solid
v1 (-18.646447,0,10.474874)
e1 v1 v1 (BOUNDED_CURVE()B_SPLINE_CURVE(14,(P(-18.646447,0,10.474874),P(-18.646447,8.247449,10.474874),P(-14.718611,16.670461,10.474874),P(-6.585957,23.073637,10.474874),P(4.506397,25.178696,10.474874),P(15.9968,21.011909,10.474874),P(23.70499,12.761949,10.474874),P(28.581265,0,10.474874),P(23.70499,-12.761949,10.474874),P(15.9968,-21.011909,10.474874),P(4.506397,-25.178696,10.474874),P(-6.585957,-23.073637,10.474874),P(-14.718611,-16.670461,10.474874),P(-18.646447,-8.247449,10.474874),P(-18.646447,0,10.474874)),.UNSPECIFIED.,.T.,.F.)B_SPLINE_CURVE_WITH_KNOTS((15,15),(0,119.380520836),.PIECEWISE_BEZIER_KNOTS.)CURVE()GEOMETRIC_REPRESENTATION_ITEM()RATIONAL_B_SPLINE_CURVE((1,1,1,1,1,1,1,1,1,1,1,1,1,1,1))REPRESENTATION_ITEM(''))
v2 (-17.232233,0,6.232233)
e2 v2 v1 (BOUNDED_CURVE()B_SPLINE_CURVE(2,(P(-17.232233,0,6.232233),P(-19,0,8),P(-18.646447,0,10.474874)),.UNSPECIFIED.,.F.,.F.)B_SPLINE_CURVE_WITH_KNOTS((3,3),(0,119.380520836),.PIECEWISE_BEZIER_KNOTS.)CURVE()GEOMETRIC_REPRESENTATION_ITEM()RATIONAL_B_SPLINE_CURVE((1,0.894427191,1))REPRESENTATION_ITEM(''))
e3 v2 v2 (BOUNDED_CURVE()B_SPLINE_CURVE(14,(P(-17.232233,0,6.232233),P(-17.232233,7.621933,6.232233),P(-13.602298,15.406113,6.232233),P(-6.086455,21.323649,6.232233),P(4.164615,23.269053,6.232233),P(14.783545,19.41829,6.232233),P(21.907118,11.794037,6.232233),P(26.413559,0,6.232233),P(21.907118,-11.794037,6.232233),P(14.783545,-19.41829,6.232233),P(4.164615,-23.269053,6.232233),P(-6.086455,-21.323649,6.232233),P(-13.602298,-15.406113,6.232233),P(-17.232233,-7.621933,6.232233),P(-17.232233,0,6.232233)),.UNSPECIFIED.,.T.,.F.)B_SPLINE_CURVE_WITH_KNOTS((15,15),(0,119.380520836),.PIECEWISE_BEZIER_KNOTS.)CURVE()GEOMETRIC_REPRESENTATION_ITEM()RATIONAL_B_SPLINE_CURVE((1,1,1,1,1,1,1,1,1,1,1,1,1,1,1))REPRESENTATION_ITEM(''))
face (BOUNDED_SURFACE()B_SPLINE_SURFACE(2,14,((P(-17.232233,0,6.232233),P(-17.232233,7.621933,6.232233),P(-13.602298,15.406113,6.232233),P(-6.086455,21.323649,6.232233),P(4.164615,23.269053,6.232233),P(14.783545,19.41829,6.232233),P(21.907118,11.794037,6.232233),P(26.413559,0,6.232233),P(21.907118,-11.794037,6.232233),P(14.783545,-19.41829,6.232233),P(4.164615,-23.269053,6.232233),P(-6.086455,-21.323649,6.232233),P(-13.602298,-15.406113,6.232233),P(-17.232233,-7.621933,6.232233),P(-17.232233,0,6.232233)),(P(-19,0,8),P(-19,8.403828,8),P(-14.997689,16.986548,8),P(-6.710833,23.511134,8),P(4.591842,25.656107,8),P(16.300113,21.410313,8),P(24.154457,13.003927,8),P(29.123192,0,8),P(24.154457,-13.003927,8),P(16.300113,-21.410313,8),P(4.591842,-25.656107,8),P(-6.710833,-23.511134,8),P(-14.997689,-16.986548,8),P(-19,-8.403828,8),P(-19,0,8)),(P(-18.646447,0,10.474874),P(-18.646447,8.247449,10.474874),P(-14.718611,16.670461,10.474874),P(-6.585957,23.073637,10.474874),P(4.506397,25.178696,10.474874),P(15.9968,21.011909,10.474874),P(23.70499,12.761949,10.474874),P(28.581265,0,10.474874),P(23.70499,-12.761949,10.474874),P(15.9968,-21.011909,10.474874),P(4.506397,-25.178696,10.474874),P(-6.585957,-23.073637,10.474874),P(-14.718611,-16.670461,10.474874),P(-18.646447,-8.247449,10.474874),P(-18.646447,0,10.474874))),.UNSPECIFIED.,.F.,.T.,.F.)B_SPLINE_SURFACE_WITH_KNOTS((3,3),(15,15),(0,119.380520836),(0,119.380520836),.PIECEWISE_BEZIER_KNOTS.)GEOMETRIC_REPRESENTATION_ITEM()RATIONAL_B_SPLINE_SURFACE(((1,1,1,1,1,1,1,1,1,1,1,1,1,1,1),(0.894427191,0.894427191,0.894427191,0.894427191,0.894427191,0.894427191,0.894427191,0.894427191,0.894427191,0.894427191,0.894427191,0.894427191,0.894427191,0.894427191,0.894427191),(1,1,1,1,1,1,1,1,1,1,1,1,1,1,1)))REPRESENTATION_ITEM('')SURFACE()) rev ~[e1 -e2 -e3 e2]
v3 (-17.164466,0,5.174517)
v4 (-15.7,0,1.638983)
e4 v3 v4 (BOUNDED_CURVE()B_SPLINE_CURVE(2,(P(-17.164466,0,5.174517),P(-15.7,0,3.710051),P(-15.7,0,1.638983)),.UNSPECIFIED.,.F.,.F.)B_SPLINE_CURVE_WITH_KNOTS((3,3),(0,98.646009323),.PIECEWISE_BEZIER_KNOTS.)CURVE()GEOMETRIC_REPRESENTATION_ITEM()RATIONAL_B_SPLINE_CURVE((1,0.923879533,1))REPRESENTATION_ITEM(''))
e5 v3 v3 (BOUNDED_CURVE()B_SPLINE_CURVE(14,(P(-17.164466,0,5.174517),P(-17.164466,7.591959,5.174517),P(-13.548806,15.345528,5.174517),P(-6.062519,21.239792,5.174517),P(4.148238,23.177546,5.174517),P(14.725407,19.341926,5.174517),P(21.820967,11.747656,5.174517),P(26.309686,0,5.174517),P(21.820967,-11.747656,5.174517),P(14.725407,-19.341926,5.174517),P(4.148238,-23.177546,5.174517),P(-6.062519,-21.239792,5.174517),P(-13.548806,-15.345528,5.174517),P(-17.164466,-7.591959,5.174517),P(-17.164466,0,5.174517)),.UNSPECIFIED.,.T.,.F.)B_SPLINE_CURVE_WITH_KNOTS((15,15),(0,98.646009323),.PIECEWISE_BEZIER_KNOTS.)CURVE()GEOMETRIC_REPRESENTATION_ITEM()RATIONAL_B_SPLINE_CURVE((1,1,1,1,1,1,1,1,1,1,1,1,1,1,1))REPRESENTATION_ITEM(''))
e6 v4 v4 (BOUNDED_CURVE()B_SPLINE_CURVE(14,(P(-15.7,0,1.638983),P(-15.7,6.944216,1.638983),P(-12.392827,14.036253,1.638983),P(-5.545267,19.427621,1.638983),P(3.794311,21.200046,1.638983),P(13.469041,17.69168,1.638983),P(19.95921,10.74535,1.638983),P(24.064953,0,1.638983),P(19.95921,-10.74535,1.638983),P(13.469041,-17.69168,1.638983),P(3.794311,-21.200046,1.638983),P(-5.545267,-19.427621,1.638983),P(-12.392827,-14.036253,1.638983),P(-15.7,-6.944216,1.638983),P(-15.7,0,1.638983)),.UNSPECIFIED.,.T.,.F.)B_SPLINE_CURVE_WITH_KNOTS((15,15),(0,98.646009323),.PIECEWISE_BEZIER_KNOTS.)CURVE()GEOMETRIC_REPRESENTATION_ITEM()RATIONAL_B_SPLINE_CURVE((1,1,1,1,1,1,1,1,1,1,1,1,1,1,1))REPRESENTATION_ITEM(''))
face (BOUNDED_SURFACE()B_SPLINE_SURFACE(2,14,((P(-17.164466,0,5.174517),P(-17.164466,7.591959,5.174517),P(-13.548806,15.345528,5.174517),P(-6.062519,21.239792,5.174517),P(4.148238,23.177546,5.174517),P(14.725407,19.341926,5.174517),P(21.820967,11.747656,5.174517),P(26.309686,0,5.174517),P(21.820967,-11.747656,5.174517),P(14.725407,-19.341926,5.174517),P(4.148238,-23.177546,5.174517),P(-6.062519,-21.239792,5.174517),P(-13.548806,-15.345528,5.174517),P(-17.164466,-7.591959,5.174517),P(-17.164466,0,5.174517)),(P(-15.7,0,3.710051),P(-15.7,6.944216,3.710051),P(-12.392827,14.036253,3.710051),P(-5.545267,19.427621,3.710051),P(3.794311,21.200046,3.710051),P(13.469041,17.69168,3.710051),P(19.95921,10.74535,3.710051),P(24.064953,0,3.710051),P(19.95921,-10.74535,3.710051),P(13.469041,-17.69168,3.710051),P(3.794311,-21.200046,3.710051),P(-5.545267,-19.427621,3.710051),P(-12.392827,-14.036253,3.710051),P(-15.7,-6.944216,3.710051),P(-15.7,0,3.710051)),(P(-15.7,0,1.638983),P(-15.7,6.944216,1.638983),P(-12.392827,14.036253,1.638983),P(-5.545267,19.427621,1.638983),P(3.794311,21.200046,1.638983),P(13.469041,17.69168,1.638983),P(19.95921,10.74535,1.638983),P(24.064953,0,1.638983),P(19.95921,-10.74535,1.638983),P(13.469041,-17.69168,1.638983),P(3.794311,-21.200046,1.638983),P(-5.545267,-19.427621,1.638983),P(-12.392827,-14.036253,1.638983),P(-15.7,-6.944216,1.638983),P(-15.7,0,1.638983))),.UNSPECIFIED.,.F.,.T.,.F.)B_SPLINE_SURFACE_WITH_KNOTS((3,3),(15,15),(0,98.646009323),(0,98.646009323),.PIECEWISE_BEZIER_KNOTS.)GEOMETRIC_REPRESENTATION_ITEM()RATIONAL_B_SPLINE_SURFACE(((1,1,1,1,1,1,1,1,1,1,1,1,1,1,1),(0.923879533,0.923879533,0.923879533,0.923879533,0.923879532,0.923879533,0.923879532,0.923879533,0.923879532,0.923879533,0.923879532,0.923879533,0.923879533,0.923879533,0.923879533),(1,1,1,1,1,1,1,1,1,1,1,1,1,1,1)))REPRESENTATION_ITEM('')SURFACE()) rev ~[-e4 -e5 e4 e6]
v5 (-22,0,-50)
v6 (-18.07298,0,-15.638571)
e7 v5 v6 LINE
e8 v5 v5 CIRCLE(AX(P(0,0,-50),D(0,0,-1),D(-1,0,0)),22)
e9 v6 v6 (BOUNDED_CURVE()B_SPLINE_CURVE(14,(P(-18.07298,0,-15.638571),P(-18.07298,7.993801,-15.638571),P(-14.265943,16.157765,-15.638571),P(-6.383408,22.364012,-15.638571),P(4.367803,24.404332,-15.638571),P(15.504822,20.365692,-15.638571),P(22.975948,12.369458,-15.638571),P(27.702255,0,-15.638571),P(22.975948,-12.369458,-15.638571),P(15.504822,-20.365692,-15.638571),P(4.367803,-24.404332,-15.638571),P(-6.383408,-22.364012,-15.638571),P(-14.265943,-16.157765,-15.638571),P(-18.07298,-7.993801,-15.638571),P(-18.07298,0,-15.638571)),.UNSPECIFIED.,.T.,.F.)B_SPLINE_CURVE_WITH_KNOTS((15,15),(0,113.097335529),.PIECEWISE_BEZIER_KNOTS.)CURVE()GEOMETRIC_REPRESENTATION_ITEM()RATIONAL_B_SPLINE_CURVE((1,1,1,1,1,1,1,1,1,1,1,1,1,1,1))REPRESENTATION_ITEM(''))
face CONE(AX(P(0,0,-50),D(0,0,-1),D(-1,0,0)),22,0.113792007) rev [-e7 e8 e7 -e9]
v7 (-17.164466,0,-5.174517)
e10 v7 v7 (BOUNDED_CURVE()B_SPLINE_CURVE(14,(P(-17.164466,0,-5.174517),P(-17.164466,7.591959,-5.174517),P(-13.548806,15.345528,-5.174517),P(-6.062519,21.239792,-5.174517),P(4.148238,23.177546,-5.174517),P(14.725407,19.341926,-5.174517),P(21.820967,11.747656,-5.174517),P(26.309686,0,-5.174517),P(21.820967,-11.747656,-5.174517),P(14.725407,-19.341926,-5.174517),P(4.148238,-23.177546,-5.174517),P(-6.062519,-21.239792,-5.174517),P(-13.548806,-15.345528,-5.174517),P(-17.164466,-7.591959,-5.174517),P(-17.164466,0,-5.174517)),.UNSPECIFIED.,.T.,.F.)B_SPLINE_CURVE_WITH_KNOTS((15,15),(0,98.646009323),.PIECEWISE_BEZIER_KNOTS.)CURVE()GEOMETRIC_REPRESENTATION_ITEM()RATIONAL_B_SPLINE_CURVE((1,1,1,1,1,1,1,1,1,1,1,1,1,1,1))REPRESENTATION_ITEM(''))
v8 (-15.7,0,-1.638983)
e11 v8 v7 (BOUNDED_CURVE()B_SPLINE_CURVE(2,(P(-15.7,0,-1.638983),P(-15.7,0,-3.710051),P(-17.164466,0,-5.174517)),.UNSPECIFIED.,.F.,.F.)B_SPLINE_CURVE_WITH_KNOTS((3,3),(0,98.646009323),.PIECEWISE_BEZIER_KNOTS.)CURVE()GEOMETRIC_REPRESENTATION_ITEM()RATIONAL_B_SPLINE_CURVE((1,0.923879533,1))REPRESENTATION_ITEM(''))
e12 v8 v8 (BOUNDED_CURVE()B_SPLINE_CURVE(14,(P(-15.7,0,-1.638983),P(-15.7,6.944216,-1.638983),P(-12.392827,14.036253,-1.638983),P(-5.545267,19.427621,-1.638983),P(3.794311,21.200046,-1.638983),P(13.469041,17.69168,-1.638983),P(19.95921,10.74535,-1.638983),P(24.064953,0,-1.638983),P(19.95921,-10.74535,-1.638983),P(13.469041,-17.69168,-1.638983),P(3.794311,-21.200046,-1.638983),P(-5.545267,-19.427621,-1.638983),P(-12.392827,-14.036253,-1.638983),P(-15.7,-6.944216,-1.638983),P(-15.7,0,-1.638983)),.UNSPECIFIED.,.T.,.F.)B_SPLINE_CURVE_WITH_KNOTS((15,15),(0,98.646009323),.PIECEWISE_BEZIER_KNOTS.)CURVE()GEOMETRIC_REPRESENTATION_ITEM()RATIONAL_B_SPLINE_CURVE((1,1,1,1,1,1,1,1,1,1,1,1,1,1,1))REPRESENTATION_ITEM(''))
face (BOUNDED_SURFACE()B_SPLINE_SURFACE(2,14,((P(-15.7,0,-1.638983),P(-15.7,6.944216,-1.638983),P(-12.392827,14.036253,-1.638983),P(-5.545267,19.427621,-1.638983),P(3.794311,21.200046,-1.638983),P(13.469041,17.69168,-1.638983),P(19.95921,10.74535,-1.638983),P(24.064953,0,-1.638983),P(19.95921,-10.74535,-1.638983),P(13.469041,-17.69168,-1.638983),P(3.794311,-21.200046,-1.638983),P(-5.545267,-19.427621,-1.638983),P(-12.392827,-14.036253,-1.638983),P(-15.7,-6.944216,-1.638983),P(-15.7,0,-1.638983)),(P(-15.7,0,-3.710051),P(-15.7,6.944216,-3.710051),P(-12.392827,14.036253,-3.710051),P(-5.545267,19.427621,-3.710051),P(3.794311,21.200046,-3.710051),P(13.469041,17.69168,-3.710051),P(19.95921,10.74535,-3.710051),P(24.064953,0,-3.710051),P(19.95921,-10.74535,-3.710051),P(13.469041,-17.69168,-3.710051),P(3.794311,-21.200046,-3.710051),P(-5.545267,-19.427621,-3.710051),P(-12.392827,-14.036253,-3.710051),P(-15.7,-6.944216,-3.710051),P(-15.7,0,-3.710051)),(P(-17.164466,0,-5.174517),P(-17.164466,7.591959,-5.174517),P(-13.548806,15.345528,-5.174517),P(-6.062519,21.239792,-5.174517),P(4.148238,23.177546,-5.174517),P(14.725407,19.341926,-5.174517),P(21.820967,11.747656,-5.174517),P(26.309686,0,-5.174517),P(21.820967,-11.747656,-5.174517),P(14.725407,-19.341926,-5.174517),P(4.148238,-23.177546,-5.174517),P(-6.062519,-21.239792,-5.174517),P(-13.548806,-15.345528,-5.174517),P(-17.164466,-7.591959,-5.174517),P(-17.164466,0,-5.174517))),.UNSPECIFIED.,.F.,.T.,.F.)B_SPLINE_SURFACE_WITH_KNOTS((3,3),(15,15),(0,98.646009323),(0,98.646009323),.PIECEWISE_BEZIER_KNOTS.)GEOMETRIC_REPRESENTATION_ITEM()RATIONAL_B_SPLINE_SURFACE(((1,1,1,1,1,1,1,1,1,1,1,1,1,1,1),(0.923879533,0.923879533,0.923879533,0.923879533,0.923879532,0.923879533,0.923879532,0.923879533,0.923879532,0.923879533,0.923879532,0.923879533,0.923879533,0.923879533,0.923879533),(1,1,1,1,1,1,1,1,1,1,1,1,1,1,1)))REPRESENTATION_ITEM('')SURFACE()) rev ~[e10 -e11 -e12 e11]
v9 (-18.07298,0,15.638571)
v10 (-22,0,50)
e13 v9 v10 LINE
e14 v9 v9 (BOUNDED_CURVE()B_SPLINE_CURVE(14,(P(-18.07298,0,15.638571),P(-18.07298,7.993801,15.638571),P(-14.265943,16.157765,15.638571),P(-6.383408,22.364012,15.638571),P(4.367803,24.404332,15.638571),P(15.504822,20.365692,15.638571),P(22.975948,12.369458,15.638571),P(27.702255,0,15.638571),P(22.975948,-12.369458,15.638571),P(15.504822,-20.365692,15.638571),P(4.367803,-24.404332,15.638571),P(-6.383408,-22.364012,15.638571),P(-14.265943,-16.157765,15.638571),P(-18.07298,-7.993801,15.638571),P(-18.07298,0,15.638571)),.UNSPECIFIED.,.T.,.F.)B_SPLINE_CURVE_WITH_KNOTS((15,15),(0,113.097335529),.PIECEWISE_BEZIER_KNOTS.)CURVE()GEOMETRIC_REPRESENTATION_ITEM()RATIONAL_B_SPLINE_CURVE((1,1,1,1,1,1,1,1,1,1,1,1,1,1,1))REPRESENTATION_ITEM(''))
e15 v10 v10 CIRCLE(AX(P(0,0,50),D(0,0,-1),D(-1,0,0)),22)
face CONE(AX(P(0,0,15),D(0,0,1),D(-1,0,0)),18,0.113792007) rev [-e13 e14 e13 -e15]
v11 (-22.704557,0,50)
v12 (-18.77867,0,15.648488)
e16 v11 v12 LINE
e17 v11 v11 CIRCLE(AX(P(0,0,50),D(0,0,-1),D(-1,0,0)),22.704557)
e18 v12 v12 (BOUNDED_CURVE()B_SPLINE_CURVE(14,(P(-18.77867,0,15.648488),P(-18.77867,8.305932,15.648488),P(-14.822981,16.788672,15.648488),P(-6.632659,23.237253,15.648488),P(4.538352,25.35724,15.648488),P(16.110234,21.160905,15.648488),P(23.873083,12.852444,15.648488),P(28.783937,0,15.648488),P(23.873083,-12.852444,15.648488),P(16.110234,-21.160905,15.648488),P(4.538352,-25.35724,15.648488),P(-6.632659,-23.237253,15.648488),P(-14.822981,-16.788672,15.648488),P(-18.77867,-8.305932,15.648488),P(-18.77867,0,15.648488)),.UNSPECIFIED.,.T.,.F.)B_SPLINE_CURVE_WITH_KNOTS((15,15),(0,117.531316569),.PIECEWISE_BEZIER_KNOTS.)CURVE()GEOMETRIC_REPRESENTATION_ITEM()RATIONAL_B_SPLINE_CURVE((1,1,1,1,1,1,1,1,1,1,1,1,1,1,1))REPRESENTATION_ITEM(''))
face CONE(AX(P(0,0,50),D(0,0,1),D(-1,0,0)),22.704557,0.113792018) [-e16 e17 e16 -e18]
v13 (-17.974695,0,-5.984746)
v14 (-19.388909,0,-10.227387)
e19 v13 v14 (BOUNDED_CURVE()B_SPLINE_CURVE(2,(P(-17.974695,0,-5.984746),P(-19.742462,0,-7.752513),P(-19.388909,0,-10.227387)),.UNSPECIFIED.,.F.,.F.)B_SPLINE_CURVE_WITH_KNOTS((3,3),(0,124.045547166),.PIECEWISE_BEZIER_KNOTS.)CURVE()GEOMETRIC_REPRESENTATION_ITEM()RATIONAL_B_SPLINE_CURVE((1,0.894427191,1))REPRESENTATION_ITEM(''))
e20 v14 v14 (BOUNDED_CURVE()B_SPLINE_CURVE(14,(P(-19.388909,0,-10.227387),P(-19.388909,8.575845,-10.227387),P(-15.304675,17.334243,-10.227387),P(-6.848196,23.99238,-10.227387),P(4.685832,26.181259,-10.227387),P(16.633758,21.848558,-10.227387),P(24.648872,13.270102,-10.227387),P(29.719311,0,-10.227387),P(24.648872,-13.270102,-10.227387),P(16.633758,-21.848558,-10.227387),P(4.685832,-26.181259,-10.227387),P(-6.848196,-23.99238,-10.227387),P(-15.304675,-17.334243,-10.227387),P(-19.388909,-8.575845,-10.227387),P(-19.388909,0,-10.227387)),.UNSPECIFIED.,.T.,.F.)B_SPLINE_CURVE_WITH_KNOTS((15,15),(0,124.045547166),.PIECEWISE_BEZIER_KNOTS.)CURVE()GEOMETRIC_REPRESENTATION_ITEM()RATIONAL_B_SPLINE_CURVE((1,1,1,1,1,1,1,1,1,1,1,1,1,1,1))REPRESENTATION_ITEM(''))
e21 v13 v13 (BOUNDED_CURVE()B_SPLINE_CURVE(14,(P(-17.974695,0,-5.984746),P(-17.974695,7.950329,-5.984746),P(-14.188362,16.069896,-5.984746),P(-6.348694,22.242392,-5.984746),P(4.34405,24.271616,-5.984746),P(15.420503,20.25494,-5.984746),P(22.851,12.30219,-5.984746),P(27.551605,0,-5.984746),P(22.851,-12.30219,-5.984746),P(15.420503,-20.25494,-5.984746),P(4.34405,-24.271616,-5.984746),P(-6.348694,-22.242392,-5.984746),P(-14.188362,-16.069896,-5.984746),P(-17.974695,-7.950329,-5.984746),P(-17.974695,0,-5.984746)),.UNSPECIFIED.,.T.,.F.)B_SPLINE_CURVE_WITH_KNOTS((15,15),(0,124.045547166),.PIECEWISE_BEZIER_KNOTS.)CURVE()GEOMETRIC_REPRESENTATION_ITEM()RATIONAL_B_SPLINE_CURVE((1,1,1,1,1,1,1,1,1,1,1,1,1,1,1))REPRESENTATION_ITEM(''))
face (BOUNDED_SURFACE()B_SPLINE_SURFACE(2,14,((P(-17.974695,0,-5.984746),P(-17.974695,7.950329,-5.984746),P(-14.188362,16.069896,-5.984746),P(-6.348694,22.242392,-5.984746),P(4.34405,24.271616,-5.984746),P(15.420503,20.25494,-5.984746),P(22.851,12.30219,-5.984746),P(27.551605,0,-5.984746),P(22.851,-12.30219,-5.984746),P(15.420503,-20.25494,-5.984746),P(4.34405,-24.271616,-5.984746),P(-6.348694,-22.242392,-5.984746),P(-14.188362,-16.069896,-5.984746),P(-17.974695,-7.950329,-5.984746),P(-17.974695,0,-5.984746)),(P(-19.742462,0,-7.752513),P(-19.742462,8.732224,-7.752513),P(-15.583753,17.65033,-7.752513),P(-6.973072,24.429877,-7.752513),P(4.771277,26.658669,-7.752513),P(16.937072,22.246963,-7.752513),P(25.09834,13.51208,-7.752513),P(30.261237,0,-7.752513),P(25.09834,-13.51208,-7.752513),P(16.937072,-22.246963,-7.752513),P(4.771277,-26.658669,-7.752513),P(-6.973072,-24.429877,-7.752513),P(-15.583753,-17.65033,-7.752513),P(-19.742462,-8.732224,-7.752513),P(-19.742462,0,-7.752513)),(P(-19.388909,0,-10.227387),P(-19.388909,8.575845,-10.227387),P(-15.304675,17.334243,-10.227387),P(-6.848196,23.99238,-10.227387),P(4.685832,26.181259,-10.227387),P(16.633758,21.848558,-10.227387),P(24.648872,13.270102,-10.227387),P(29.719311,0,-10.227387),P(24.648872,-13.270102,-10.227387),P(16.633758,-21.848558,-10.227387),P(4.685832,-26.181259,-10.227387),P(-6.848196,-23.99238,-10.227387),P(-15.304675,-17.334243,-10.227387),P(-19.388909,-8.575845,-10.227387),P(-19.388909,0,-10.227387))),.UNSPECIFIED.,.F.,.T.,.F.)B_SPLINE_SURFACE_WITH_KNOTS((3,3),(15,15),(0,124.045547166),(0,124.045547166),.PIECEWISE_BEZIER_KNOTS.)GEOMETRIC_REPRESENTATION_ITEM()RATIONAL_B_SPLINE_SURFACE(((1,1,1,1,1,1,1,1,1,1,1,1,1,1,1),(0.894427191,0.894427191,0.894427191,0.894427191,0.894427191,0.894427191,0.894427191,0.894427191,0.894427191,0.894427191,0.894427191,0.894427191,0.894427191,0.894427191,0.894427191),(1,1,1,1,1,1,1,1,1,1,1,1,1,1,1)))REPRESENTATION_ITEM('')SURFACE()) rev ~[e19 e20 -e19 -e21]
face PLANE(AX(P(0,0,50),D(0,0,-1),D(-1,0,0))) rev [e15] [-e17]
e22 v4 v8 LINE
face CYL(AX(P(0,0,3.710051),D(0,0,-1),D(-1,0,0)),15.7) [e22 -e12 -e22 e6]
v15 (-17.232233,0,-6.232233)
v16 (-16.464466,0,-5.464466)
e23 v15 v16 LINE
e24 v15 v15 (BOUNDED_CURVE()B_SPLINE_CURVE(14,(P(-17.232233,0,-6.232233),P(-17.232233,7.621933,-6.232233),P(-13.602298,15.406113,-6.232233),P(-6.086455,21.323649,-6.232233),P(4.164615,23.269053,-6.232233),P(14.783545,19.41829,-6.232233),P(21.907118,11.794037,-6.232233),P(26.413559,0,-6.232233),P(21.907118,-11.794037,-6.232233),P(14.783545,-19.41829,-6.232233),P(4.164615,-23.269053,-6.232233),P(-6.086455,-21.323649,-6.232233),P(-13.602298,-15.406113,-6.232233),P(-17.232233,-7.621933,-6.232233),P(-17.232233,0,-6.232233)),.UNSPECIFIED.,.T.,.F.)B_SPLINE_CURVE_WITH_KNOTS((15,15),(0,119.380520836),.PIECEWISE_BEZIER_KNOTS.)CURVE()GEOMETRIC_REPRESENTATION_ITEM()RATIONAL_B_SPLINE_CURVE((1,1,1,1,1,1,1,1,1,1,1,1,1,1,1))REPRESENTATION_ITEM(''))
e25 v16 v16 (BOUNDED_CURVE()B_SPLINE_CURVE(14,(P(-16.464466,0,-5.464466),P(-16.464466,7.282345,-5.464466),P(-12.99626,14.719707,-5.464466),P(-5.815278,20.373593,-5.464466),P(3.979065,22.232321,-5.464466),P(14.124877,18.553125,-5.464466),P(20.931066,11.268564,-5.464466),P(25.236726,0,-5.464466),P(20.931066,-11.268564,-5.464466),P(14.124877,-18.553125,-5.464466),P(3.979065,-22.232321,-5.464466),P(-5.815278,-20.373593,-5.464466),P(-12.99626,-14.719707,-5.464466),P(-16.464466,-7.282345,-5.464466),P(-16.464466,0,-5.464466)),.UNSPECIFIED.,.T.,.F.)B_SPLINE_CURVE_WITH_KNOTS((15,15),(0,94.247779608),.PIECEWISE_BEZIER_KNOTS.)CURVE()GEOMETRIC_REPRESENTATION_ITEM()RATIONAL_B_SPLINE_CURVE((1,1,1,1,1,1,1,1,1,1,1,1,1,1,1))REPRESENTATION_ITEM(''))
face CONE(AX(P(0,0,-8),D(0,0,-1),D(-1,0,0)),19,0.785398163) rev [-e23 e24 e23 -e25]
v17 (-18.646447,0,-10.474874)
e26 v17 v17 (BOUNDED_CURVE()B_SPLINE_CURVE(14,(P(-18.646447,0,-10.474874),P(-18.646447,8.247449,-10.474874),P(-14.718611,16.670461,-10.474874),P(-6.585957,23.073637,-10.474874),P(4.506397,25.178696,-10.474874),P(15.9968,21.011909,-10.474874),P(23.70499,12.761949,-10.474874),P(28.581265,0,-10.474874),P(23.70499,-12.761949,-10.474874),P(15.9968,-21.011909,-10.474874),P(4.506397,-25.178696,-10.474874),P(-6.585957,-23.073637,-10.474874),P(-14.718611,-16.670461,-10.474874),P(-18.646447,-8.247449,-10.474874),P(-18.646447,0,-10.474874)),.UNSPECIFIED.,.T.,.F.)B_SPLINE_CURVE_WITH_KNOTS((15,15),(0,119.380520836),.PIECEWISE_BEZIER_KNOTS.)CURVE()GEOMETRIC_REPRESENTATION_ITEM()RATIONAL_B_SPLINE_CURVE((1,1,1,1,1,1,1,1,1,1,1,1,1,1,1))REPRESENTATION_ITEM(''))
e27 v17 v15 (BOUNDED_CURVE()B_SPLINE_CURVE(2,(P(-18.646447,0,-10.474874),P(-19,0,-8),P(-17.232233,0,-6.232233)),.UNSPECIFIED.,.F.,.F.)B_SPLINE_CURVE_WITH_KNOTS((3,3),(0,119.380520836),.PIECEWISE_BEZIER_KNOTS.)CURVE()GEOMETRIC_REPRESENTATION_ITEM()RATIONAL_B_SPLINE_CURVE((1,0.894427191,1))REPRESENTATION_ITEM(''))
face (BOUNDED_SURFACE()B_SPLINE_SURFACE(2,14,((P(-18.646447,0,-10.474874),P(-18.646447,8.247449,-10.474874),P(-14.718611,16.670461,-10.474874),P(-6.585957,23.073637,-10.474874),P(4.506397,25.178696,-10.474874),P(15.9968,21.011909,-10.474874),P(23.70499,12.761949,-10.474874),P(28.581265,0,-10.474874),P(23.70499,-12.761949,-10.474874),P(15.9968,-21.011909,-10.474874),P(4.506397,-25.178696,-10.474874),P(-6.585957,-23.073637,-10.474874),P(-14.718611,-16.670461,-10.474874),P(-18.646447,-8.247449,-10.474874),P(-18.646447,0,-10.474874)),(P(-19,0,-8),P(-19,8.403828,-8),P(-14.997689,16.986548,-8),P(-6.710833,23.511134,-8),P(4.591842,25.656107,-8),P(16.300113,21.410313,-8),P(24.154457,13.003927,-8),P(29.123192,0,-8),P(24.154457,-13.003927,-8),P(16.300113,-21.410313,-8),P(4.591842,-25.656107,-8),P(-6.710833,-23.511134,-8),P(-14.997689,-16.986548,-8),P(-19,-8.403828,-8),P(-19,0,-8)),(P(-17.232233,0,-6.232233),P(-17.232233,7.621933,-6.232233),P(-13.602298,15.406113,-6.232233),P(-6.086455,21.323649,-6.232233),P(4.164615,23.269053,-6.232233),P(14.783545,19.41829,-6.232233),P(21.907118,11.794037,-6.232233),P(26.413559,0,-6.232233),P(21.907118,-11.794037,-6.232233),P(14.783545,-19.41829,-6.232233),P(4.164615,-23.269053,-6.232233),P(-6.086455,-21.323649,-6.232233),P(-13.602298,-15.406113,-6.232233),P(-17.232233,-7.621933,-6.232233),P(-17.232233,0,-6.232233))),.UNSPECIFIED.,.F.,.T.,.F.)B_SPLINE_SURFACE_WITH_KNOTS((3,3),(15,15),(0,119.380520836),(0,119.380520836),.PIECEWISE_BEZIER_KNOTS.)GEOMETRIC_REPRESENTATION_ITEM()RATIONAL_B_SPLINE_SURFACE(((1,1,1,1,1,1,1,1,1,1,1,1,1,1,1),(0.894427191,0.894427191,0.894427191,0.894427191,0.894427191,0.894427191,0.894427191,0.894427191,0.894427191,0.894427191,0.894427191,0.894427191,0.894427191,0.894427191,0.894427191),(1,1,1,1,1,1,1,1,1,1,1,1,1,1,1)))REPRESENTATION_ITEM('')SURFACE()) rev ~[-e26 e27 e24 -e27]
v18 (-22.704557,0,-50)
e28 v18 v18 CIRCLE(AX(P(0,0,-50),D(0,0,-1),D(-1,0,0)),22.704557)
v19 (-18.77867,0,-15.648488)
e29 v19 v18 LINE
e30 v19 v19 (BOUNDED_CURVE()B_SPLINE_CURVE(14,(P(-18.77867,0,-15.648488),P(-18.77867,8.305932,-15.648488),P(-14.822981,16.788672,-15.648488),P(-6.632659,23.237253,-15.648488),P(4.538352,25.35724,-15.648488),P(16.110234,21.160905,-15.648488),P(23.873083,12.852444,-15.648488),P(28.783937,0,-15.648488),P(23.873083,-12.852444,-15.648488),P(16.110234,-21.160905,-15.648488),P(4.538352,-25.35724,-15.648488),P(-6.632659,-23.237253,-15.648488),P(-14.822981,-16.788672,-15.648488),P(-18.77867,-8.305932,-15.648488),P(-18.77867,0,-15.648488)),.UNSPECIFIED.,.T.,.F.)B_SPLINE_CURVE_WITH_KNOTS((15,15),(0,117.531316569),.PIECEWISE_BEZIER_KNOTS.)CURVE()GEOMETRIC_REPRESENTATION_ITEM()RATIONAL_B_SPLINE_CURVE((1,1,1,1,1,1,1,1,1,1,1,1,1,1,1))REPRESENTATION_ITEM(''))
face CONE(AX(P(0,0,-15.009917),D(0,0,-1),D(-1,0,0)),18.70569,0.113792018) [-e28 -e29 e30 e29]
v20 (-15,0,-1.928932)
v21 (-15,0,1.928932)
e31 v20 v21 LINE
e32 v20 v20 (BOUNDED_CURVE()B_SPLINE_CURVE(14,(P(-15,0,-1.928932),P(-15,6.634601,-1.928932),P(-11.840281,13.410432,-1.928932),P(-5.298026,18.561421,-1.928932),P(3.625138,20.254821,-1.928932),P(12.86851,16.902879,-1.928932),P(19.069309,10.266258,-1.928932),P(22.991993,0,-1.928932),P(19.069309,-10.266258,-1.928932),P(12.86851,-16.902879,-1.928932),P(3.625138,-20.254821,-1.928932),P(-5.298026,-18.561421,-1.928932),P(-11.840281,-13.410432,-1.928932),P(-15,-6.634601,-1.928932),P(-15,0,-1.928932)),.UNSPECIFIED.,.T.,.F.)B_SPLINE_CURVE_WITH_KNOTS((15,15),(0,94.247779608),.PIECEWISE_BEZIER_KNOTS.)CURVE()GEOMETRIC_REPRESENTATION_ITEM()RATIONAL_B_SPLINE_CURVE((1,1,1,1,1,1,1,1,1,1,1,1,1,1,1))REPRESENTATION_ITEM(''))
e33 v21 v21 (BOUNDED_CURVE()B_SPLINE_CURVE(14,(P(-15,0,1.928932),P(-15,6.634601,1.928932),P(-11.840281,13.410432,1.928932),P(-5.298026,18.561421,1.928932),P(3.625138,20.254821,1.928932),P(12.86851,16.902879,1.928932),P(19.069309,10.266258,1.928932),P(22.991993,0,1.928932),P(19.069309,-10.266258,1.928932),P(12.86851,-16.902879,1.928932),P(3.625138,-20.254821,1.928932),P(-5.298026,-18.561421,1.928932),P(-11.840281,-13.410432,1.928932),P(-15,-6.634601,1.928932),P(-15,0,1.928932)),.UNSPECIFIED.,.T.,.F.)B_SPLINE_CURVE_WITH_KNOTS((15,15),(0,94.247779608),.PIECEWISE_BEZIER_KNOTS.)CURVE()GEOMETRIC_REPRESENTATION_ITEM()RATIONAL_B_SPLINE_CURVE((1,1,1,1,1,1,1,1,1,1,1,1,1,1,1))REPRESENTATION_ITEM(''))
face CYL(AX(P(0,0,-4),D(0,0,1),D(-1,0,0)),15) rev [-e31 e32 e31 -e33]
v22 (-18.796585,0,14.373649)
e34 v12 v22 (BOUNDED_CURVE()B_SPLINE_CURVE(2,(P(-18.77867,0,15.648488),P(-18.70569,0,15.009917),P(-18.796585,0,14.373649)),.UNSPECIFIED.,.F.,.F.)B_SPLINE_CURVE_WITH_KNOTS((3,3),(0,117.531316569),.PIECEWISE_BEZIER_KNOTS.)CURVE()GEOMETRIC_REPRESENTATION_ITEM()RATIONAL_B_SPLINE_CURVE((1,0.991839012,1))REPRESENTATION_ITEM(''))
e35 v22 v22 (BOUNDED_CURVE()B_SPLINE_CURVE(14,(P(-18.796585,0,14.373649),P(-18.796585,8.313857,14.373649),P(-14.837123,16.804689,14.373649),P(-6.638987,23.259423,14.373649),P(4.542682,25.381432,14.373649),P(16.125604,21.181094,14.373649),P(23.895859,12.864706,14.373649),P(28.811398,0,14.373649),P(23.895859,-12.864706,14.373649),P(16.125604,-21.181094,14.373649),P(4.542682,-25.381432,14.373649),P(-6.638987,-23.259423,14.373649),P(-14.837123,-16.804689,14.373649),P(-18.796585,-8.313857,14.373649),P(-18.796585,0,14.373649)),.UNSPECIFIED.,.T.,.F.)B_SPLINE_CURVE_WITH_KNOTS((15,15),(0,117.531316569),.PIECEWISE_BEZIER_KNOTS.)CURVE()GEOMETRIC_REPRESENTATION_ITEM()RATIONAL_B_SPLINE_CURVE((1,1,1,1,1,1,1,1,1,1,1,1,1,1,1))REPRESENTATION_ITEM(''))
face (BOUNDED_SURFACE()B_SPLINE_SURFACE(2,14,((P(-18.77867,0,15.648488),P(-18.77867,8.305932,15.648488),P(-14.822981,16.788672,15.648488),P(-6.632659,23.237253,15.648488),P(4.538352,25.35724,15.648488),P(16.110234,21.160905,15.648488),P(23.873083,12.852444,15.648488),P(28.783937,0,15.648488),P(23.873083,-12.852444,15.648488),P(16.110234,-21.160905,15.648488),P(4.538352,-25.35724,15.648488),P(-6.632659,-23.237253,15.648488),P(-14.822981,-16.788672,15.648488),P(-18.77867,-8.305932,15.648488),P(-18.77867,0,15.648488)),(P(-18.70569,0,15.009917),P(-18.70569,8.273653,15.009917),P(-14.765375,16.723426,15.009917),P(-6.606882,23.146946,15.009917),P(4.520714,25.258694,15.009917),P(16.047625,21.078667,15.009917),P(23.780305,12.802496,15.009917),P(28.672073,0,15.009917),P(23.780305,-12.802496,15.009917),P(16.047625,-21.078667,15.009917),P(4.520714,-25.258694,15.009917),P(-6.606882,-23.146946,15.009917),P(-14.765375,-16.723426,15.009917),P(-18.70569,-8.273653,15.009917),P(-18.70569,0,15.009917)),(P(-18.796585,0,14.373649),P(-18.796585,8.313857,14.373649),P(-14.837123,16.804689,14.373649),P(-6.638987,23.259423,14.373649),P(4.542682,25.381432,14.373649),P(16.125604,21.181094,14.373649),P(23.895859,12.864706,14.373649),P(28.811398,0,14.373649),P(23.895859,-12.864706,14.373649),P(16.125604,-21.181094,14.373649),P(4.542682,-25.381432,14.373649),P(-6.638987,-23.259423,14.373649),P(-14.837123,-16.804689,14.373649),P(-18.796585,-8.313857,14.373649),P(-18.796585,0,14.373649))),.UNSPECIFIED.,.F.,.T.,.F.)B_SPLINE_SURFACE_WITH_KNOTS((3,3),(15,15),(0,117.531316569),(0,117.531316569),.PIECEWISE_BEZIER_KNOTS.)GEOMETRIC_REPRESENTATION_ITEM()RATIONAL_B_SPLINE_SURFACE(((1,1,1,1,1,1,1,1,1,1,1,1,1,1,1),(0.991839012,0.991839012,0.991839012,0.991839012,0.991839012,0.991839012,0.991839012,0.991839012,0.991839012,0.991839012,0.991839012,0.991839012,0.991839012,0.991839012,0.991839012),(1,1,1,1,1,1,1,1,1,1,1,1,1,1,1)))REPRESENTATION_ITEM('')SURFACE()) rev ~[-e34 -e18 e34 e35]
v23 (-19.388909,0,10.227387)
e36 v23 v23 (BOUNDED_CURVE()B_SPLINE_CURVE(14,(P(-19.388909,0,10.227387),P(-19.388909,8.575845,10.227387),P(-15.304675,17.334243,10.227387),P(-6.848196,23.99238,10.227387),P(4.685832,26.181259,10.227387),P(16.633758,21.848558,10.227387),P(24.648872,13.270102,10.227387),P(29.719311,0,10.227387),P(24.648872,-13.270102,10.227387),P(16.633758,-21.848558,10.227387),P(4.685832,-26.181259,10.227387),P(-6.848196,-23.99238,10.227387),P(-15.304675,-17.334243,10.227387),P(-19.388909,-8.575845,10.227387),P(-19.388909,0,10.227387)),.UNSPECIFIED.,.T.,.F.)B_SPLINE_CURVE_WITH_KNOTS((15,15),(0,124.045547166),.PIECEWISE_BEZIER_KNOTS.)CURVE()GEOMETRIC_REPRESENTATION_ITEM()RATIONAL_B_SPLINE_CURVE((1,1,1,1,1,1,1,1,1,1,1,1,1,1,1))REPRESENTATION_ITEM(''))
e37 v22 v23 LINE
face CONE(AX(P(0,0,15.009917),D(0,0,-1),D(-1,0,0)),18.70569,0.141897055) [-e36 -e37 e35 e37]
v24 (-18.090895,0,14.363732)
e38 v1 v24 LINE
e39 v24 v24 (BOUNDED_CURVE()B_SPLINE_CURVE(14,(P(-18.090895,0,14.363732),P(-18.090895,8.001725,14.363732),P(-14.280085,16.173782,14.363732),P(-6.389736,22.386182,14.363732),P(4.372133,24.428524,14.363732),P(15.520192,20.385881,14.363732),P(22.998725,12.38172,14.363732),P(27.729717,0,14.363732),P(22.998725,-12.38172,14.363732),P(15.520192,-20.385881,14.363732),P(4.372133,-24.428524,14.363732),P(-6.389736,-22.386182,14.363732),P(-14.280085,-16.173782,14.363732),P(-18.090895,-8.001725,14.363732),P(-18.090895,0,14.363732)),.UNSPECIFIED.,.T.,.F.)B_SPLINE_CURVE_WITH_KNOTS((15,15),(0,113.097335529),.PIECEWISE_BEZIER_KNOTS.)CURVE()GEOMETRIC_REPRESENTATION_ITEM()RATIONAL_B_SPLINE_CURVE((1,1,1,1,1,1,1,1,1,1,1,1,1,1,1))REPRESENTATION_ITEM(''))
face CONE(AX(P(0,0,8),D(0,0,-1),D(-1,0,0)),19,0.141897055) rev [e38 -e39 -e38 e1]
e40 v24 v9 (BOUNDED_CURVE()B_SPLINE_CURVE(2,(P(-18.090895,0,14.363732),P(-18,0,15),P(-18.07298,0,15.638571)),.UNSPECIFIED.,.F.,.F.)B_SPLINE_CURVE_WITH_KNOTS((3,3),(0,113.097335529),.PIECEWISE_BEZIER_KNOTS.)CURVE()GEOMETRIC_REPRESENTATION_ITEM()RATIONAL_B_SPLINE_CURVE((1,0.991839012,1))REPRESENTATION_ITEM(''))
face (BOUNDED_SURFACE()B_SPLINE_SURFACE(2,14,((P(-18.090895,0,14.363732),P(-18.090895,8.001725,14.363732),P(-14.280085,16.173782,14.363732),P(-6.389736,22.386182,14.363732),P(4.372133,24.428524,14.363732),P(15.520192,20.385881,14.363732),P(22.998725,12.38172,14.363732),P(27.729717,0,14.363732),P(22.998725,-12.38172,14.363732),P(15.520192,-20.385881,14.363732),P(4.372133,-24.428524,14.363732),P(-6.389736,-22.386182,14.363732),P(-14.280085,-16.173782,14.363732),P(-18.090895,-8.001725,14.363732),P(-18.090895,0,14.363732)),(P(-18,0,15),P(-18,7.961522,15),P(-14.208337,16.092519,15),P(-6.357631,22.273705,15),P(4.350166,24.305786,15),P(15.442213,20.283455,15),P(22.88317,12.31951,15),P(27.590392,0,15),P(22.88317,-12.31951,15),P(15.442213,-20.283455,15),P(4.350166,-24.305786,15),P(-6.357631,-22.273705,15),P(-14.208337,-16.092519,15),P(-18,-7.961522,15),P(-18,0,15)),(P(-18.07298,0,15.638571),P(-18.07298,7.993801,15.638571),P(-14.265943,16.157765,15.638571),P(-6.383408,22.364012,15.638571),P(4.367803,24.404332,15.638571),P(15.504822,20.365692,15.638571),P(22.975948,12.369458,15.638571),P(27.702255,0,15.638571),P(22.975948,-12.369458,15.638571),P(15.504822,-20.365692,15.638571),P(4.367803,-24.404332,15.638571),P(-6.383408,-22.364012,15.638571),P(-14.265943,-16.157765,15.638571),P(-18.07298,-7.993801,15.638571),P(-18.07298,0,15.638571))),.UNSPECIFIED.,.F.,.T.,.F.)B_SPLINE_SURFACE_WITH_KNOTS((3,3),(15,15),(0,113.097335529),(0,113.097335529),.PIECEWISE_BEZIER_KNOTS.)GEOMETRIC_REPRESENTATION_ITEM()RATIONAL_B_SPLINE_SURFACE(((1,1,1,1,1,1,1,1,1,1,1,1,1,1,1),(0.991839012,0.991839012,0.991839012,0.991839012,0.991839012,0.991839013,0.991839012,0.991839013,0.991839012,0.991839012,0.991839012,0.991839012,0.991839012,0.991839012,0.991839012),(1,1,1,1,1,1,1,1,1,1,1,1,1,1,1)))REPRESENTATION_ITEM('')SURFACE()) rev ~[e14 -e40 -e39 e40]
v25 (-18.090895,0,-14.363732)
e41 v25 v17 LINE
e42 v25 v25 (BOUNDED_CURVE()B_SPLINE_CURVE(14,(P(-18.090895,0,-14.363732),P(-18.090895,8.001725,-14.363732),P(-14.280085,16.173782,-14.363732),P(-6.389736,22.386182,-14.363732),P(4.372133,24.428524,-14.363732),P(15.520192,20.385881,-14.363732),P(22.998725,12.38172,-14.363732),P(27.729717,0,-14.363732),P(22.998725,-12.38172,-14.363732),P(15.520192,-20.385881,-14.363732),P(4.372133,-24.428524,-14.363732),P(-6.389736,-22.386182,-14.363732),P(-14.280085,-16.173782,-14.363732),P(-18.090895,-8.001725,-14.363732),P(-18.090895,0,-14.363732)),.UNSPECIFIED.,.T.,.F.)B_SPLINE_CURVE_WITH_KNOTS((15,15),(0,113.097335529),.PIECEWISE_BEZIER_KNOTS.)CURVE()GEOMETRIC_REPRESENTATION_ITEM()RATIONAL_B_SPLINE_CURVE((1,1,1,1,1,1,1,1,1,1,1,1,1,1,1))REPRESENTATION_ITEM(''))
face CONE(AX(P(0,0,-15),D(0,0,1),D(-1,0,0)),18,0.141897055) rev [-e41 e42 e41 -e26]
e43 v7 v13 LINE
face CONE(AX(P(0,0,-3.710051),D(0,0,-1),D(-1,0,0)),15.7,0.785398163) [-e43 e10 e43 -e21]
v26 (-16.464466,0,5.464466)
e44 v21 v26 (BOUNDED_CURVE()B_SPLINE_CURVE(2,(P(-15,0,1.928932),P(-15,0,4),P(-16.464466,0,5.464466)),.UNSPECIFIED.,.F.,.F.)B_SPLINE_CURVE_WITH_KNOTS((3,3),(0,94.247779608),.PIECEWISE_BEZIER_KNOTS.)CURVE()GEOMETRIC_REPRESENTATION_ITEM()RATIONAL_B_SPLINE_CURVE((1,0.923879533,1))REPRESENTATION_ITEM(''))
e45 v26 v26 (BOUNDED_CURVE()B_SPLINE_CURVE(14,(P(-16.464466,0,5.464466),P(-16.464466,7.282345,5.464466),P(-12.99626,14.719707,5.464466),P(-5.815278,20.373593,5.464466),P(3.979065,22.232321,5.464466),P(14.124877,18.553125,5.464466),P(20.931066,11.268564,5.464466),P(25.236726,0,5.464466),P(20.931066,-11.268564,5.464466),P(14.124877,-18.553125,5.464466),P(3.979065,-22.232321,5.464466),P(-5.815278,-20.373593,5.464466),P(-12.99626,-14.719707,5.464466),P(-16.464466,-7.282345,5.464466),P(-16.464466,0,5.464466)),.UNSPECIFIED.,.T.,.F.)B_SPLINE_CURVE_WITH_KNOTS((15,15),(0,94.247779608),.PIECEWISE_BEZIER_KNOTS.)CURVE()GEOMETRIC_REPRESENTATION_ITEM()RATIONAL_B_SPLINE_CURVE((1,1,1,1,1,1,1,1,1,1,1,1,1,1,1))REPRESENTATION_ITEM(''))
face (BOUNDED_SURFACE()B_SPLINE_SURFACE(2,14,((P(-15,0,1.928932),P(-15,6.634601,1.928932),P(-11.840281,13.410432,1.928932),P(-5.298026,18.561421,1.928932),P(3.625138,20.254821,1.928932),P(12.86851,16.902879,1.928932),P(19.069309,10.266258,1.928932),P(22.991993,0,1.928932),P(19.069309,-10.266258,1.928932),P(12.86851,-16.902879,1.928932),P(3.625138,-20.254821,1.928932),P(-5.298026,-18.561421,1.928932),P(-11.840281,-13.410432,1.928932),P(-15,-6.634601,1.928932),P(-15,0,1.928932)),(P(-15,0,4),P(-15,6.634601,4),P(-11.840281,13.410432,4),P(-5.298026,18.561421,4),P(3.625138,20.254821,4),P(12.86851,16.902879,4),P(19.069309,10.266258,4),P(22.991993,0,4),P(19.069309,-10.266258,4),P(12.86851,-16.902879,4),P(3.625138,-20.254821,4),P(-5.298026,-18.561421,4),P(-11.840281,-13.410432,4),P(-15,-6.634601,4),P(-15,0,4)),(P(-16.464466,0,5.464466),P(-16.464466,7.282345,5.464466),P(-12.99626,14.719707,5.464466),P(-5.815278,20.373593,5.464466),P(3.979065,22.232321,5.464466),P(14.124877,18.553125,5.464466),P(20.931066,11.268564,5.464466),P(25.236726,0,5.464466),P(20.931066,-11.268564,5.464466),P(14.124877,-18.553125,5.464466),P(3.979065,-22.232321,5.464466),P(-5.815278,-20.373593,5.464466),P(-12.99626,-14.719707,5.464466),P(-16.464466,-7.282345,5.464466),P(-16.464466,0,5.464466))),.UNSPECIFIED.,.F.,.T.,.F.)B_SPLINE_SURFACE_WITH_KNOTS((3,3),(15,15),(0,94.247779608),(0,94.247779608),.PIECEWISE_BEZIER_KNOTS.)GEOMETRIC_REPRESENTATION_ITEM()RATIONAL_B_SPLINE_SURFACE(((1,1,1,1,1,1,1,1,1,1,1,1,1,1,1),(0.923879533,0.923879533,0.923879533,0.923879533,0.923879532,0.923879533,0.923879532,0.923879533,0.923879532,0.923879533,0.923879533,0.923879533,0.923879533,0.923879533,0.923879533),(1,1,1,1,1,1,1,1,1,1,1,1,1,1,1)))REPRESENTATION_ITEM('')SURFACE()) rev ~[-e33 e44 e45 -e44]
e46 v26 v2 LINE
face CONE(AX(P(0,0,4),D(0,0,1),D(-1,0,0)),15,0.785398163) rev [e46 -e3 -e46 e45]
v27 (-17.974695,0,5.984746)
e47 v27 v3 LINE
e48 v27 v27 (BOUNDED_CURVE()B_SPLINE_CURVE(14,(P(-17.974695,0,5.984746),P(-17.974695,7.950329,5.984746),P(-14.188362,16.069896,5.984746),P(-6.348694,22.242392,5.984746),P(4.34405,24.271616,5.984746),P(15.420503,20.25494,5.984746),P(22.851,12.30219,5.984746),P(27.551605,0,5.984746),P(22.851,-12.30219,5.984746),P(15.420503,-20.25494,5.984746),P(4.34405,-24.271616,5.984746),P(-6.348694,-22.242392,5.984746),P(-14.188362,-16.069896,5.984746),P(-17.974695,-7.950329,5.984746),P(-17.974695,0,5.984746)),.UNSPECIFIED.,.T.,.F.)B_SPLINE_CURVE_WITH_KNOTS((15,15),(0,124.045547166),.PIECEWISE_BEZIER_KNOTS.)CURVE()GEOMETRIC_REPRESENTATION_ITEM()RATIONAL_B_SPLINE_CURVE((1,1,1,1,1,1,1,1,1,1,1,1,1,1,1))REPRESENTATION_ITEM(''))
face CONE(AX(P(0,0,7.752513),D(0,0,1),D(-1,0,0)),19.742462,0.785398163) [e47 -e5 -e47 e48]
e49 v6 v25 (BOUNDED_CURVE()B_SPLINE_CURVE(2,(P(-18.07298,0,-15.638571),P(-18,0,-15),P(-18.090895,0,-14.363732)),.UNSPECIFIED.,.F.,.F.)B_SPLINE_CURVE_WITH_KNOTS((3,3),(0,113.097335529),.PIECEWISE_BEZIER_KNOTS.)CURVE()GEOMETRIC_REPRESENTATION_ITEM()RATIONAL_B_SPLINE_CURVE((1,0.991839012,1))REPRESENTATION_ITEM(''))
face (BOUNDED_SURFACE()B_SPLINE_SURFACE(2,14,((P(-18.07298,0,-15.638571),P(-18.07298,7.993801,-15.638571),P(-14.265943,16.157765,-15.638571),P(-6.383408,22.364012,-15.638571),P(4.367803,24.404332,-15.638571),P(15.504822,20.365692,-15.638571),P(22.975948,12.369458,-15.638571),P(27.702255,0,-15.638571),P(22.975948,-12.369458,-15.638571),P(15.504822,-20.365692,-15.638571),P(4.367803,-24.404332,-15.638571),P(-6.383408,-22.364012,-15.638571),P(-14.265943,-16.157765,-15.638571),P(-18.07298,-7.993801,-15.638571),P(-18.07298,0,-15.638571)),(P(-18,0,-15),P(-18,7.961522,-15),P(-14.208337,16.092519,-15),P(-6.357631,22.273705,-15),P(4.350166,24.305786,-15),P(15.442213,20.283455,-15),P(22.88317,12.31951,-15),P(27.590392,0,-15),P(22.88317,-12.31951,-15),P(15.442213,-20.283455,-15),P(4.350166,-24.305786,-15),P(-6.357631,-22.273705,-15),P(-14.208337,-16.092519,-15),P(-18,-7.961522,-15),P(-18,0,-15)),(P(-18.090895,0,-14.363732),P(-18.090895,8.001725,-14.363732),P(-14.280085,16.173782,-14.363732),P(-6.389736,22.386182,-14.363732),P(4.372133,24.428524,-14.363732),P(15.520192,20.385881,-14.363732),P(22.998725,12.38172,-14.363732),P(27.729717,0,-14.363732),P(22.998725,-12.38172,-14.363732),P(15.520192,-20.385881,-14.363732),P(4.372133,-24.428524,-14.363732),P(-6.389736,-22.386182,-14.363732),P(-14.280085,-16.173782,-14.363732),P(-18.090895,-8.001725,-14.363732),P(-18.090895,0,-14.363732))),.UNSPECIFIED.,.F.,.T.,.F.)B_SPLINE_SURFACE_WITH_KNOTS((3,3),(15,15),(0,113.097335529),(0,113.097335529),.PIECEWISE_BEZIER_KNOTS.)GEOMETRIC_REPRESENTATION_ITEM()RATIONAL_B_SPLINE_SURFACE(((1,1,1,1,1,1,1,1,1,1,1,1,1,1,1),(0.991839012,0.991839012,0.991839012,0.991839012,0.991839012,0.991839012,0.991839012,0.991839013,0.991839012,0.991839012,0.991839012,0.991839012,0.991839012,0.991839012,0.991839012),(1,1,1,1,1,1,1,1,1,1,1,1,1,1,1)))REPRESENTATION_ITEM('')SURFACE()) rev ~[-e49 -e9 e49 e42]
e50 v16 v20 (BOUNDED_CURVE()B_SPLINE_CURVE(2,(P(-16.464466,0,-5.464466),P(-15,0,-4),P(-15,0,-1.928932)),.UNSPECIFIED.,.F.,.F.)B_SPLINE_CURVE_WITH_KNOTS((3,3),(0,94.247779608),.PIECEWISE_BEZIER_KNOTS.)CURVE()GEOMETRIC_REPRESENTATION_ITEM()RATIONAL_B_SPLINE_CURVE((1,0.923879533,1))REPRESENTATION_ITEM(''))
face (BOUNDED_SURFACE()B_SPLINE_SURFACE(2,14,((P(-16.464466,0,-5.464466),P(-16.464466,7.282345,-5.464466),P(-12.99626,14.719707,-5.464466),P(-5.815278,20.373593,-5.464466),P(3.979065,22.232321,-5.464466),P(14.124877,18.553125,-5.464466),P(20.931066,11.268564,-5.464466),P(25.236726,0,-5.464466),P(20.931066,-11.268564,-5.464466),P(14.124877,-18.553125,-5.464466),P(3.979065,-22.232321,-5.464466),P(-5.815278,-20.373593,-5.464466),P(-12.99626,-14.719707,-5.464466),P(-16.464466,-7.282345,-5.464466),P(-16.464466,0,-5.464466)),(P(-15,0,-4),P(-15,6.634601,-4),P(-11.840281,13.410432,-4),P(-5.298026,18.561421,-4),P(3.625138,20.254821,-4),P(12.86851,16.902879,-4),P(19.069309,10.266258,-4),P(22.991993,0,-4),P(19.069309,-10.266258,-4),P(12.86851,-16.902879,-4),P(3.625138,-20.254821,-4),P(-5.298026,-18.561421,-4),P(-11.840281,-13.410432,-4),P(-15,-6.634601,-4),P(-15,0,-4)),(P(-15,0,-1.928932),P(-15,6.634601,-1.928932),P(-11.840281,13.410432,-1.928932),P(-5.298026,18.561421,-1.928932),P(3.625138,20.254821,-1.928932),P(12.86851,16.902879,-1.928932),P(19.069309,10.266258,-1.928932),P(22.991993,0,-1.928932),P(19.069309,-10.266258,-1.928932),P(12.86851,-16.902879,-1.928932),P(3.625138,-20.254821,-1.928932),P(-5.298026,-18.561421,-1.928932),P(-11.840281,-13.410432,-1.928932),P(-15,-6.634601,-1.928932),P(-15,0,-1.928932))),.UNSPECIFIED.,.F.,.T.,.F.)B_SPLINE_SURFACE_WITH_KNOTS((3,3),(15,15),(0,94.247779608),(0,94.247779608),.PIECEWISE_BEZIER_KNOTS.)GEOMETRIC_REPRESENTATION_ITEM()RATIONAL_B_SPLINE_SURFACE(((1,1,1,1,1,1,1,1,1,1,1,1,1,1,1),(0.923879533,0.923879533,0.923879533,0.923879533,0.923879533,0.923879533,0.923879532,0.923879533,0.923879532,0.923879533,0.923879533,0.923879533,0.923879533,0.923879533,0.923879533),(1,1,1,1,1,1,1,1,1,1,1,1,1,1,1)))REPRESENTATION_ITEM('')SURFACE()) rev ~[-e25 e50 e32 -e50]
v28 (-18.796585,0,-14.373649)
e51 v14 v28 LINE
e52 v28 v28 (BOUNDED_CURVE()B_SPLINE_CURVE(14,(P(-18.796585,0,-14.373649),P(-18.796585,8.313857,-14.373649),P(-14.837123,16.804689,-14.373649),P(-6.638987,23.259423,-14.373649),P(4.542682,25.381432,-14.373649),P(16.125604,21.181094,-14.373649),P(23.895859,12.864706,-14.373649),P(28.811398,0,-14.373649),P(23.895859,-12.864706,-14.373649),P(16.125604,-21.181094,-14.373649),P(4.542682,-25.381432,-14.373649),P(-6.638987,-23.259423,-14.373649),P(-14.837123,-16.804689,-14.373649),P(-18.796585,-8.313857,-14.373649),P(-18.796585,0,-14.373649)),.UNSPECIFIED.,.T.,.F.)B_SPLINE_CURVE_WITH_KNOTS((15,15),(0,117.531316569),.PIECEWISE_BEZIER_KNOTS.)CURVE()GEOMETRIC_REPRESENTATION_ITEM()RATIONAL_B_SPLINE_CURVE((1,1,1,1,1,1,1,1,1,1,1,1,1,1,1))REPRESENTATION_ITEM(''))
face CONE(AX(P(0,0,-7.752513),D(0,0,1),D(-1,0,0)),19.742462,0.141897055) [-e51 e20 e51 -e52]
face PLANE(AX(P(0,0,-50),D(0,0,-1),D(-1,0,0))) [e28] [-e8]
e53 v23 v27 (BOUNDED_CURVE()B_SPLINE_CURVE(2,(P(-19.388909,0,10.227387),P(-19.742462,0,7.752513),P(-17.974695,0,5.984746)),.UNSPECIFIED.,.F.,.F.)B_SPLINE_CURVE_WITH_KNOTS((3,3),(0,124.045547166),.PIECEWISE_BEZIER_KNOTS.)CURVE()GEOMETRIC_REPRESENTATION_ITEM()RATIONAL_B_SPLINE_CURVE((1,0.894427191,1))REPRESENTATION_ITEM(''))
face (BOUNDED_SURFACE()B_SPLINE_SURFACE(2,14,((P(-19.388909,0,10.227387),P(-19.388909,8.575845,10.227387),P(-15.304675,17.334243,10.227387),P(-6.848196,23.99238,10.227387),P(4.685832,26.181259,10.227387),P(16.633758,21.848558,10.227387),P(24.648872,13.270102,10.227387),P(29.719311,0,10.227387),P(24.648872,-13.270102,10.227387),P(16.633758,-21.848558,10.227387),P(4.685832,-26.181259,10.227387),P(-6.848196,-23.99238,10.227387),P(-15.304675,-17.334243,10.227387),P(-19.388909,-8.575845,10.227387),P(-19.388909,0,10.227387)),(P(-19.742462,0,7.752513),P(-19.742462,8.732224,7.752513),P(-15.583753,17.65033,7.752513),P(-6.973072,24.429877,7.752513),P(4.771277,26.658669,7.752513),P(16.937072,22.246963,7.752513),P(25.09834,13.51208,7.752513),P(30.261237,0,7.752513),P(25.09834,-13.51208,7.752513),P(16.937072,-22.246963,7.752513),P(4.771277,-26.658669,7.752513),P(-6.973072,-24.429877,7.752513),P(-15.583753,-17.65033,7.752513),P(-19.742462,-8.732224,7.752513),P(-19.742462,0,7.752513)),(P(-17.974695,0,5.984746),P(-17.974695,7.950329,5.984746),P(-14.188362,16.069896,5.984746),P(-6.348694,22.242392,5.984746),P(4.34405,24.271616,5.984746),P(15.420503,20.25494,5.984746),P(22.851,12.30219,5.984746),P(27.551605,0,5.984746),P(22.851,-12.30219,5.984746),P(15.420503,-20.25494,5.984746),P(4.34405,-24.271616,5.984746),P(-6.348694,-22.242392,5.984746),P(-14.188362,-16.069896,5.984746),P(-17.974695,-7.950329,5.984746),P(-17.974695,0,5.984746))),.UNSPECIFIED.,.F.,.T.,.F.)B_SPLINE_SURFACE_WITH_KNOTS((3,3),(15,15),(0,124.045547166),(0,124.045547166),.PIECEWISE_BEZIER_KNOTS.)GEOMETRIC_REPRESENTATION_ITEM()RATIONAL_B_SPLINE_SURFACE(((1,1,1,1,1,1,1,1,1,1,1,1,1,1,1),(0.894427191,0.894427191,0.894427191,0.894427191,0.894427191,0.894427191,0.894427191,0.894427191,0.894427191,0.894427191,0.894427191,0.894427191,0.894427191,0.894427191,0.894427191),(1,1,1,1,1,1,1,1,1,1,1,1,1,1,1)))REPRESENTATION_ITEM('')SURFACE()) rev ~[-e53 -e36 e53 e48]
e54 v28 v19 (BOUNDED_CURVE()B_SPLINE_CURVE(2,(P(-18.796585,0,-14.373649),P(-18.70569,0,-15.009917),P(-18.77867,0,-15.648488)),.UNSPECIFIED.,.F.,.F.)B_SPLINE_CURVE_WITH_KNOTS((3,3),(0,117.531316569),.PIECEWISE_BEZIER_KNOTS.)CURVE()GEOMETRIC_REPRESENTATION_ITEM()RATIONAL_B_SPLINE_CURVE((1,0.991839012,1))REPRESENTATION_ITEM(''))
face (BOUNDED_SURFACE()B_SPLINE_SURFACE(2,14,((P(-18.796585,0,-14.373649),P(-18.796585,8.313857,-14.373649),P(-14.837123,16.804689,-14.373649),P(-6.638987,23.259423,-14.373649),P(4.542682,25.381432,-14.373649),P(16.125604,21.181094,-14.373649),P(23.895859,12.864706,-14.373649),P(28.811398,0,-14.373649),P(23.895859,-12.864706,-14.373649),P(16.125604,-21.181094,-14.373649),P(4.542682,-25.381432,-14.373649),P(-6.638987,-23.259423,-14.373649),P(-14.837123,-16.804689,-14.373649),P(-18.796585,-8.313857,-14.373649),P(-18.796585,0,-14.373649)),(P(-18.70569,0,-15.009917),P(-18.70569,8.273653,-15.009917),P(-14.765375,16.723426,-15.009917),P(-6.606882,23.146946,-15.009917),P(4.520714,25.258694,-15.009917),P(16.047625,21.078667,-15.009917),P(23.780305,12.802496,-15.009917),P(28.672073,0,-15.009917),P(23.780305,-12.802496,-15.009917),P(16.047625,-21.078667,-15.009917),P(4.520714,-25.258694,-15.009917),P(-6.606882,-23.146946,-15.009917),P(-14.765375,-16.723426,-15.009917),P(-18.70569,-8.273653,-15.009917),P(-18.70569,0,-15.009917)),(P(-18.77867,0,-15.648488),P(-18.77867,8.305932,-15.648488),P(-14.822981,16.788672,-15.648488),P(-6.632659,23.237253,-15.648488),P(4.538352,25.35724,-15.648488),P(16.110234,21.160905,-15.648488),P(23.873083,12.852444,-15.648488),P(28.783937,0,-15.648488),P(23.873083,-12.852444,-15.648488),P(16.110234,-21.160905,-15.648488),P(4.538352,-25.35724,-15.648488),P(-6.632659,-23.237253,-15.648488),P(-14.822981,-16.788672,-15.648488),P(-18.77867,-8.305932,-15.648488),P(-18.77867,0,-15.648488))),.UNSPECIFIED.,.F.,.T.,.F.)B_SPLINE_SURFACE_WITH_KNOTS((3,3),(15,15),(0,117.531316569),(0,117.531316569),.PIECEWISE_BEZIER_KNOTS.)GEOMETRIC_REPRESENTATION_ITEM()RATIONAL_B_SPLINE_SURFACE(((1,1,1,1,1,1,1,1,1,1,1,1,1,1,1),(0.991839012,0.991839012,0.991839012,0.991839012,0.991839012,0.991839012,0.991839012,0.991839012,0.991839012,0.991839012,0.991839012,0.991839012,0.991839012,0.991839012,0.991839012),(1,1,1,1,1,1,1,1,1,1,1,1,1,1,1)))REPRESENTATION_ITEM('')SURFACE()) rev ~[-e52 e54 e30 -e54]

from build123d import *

# Parameters (mm, degrees)
F2_R = 5


with BuildPart() as f1:
    # F0 (on Front) → F1 (revolve)
    with BuildSketch(Plane.XZ):
        Polygon((-22.704557, -50), (-22, -50), (-18, -15), (-19, -8), (-15, -4), (-15, 0), (-15.7, 0), (-15.7, -3.710051), (-19.742462, -7.752513), (-18.70569, -15.009917), align=None)
        Polygon((-15.7, 0), (-15, 0), (-15, 4), (-19, 8), (-18, 15), (-22, 50), (-22.704557, 50), (-18.70569, 15.009917), (-19.742462, 7.752513), (-15.7, 3.710051), align=None)
    revolve(axis=Axis((0, 0, -25), (0, 0, -1)))

    # F2
    f2_edges = [f1.edges().sort_by_distance(p)[0] for p in [
        (19.742462, 0, 7.752513),
        (19, 0, 8),
        (18, 0, 15),
        (18.70569, 0, 15.009917),
        (15.7, 0, -3.710051),
        (19.742462, 0, -7.752513),
        (18.70569, 0, -15.009917),
        (18, 0, -15),
        (19, 0, -8),
        (15, 0, -4),
        (15.7, 0, 3.710051),
        (-15, 0, 0),
        (15, 0, 4),
    ]]
    fillet(f2_edges, radius=F2_R)


solid = f1.part
